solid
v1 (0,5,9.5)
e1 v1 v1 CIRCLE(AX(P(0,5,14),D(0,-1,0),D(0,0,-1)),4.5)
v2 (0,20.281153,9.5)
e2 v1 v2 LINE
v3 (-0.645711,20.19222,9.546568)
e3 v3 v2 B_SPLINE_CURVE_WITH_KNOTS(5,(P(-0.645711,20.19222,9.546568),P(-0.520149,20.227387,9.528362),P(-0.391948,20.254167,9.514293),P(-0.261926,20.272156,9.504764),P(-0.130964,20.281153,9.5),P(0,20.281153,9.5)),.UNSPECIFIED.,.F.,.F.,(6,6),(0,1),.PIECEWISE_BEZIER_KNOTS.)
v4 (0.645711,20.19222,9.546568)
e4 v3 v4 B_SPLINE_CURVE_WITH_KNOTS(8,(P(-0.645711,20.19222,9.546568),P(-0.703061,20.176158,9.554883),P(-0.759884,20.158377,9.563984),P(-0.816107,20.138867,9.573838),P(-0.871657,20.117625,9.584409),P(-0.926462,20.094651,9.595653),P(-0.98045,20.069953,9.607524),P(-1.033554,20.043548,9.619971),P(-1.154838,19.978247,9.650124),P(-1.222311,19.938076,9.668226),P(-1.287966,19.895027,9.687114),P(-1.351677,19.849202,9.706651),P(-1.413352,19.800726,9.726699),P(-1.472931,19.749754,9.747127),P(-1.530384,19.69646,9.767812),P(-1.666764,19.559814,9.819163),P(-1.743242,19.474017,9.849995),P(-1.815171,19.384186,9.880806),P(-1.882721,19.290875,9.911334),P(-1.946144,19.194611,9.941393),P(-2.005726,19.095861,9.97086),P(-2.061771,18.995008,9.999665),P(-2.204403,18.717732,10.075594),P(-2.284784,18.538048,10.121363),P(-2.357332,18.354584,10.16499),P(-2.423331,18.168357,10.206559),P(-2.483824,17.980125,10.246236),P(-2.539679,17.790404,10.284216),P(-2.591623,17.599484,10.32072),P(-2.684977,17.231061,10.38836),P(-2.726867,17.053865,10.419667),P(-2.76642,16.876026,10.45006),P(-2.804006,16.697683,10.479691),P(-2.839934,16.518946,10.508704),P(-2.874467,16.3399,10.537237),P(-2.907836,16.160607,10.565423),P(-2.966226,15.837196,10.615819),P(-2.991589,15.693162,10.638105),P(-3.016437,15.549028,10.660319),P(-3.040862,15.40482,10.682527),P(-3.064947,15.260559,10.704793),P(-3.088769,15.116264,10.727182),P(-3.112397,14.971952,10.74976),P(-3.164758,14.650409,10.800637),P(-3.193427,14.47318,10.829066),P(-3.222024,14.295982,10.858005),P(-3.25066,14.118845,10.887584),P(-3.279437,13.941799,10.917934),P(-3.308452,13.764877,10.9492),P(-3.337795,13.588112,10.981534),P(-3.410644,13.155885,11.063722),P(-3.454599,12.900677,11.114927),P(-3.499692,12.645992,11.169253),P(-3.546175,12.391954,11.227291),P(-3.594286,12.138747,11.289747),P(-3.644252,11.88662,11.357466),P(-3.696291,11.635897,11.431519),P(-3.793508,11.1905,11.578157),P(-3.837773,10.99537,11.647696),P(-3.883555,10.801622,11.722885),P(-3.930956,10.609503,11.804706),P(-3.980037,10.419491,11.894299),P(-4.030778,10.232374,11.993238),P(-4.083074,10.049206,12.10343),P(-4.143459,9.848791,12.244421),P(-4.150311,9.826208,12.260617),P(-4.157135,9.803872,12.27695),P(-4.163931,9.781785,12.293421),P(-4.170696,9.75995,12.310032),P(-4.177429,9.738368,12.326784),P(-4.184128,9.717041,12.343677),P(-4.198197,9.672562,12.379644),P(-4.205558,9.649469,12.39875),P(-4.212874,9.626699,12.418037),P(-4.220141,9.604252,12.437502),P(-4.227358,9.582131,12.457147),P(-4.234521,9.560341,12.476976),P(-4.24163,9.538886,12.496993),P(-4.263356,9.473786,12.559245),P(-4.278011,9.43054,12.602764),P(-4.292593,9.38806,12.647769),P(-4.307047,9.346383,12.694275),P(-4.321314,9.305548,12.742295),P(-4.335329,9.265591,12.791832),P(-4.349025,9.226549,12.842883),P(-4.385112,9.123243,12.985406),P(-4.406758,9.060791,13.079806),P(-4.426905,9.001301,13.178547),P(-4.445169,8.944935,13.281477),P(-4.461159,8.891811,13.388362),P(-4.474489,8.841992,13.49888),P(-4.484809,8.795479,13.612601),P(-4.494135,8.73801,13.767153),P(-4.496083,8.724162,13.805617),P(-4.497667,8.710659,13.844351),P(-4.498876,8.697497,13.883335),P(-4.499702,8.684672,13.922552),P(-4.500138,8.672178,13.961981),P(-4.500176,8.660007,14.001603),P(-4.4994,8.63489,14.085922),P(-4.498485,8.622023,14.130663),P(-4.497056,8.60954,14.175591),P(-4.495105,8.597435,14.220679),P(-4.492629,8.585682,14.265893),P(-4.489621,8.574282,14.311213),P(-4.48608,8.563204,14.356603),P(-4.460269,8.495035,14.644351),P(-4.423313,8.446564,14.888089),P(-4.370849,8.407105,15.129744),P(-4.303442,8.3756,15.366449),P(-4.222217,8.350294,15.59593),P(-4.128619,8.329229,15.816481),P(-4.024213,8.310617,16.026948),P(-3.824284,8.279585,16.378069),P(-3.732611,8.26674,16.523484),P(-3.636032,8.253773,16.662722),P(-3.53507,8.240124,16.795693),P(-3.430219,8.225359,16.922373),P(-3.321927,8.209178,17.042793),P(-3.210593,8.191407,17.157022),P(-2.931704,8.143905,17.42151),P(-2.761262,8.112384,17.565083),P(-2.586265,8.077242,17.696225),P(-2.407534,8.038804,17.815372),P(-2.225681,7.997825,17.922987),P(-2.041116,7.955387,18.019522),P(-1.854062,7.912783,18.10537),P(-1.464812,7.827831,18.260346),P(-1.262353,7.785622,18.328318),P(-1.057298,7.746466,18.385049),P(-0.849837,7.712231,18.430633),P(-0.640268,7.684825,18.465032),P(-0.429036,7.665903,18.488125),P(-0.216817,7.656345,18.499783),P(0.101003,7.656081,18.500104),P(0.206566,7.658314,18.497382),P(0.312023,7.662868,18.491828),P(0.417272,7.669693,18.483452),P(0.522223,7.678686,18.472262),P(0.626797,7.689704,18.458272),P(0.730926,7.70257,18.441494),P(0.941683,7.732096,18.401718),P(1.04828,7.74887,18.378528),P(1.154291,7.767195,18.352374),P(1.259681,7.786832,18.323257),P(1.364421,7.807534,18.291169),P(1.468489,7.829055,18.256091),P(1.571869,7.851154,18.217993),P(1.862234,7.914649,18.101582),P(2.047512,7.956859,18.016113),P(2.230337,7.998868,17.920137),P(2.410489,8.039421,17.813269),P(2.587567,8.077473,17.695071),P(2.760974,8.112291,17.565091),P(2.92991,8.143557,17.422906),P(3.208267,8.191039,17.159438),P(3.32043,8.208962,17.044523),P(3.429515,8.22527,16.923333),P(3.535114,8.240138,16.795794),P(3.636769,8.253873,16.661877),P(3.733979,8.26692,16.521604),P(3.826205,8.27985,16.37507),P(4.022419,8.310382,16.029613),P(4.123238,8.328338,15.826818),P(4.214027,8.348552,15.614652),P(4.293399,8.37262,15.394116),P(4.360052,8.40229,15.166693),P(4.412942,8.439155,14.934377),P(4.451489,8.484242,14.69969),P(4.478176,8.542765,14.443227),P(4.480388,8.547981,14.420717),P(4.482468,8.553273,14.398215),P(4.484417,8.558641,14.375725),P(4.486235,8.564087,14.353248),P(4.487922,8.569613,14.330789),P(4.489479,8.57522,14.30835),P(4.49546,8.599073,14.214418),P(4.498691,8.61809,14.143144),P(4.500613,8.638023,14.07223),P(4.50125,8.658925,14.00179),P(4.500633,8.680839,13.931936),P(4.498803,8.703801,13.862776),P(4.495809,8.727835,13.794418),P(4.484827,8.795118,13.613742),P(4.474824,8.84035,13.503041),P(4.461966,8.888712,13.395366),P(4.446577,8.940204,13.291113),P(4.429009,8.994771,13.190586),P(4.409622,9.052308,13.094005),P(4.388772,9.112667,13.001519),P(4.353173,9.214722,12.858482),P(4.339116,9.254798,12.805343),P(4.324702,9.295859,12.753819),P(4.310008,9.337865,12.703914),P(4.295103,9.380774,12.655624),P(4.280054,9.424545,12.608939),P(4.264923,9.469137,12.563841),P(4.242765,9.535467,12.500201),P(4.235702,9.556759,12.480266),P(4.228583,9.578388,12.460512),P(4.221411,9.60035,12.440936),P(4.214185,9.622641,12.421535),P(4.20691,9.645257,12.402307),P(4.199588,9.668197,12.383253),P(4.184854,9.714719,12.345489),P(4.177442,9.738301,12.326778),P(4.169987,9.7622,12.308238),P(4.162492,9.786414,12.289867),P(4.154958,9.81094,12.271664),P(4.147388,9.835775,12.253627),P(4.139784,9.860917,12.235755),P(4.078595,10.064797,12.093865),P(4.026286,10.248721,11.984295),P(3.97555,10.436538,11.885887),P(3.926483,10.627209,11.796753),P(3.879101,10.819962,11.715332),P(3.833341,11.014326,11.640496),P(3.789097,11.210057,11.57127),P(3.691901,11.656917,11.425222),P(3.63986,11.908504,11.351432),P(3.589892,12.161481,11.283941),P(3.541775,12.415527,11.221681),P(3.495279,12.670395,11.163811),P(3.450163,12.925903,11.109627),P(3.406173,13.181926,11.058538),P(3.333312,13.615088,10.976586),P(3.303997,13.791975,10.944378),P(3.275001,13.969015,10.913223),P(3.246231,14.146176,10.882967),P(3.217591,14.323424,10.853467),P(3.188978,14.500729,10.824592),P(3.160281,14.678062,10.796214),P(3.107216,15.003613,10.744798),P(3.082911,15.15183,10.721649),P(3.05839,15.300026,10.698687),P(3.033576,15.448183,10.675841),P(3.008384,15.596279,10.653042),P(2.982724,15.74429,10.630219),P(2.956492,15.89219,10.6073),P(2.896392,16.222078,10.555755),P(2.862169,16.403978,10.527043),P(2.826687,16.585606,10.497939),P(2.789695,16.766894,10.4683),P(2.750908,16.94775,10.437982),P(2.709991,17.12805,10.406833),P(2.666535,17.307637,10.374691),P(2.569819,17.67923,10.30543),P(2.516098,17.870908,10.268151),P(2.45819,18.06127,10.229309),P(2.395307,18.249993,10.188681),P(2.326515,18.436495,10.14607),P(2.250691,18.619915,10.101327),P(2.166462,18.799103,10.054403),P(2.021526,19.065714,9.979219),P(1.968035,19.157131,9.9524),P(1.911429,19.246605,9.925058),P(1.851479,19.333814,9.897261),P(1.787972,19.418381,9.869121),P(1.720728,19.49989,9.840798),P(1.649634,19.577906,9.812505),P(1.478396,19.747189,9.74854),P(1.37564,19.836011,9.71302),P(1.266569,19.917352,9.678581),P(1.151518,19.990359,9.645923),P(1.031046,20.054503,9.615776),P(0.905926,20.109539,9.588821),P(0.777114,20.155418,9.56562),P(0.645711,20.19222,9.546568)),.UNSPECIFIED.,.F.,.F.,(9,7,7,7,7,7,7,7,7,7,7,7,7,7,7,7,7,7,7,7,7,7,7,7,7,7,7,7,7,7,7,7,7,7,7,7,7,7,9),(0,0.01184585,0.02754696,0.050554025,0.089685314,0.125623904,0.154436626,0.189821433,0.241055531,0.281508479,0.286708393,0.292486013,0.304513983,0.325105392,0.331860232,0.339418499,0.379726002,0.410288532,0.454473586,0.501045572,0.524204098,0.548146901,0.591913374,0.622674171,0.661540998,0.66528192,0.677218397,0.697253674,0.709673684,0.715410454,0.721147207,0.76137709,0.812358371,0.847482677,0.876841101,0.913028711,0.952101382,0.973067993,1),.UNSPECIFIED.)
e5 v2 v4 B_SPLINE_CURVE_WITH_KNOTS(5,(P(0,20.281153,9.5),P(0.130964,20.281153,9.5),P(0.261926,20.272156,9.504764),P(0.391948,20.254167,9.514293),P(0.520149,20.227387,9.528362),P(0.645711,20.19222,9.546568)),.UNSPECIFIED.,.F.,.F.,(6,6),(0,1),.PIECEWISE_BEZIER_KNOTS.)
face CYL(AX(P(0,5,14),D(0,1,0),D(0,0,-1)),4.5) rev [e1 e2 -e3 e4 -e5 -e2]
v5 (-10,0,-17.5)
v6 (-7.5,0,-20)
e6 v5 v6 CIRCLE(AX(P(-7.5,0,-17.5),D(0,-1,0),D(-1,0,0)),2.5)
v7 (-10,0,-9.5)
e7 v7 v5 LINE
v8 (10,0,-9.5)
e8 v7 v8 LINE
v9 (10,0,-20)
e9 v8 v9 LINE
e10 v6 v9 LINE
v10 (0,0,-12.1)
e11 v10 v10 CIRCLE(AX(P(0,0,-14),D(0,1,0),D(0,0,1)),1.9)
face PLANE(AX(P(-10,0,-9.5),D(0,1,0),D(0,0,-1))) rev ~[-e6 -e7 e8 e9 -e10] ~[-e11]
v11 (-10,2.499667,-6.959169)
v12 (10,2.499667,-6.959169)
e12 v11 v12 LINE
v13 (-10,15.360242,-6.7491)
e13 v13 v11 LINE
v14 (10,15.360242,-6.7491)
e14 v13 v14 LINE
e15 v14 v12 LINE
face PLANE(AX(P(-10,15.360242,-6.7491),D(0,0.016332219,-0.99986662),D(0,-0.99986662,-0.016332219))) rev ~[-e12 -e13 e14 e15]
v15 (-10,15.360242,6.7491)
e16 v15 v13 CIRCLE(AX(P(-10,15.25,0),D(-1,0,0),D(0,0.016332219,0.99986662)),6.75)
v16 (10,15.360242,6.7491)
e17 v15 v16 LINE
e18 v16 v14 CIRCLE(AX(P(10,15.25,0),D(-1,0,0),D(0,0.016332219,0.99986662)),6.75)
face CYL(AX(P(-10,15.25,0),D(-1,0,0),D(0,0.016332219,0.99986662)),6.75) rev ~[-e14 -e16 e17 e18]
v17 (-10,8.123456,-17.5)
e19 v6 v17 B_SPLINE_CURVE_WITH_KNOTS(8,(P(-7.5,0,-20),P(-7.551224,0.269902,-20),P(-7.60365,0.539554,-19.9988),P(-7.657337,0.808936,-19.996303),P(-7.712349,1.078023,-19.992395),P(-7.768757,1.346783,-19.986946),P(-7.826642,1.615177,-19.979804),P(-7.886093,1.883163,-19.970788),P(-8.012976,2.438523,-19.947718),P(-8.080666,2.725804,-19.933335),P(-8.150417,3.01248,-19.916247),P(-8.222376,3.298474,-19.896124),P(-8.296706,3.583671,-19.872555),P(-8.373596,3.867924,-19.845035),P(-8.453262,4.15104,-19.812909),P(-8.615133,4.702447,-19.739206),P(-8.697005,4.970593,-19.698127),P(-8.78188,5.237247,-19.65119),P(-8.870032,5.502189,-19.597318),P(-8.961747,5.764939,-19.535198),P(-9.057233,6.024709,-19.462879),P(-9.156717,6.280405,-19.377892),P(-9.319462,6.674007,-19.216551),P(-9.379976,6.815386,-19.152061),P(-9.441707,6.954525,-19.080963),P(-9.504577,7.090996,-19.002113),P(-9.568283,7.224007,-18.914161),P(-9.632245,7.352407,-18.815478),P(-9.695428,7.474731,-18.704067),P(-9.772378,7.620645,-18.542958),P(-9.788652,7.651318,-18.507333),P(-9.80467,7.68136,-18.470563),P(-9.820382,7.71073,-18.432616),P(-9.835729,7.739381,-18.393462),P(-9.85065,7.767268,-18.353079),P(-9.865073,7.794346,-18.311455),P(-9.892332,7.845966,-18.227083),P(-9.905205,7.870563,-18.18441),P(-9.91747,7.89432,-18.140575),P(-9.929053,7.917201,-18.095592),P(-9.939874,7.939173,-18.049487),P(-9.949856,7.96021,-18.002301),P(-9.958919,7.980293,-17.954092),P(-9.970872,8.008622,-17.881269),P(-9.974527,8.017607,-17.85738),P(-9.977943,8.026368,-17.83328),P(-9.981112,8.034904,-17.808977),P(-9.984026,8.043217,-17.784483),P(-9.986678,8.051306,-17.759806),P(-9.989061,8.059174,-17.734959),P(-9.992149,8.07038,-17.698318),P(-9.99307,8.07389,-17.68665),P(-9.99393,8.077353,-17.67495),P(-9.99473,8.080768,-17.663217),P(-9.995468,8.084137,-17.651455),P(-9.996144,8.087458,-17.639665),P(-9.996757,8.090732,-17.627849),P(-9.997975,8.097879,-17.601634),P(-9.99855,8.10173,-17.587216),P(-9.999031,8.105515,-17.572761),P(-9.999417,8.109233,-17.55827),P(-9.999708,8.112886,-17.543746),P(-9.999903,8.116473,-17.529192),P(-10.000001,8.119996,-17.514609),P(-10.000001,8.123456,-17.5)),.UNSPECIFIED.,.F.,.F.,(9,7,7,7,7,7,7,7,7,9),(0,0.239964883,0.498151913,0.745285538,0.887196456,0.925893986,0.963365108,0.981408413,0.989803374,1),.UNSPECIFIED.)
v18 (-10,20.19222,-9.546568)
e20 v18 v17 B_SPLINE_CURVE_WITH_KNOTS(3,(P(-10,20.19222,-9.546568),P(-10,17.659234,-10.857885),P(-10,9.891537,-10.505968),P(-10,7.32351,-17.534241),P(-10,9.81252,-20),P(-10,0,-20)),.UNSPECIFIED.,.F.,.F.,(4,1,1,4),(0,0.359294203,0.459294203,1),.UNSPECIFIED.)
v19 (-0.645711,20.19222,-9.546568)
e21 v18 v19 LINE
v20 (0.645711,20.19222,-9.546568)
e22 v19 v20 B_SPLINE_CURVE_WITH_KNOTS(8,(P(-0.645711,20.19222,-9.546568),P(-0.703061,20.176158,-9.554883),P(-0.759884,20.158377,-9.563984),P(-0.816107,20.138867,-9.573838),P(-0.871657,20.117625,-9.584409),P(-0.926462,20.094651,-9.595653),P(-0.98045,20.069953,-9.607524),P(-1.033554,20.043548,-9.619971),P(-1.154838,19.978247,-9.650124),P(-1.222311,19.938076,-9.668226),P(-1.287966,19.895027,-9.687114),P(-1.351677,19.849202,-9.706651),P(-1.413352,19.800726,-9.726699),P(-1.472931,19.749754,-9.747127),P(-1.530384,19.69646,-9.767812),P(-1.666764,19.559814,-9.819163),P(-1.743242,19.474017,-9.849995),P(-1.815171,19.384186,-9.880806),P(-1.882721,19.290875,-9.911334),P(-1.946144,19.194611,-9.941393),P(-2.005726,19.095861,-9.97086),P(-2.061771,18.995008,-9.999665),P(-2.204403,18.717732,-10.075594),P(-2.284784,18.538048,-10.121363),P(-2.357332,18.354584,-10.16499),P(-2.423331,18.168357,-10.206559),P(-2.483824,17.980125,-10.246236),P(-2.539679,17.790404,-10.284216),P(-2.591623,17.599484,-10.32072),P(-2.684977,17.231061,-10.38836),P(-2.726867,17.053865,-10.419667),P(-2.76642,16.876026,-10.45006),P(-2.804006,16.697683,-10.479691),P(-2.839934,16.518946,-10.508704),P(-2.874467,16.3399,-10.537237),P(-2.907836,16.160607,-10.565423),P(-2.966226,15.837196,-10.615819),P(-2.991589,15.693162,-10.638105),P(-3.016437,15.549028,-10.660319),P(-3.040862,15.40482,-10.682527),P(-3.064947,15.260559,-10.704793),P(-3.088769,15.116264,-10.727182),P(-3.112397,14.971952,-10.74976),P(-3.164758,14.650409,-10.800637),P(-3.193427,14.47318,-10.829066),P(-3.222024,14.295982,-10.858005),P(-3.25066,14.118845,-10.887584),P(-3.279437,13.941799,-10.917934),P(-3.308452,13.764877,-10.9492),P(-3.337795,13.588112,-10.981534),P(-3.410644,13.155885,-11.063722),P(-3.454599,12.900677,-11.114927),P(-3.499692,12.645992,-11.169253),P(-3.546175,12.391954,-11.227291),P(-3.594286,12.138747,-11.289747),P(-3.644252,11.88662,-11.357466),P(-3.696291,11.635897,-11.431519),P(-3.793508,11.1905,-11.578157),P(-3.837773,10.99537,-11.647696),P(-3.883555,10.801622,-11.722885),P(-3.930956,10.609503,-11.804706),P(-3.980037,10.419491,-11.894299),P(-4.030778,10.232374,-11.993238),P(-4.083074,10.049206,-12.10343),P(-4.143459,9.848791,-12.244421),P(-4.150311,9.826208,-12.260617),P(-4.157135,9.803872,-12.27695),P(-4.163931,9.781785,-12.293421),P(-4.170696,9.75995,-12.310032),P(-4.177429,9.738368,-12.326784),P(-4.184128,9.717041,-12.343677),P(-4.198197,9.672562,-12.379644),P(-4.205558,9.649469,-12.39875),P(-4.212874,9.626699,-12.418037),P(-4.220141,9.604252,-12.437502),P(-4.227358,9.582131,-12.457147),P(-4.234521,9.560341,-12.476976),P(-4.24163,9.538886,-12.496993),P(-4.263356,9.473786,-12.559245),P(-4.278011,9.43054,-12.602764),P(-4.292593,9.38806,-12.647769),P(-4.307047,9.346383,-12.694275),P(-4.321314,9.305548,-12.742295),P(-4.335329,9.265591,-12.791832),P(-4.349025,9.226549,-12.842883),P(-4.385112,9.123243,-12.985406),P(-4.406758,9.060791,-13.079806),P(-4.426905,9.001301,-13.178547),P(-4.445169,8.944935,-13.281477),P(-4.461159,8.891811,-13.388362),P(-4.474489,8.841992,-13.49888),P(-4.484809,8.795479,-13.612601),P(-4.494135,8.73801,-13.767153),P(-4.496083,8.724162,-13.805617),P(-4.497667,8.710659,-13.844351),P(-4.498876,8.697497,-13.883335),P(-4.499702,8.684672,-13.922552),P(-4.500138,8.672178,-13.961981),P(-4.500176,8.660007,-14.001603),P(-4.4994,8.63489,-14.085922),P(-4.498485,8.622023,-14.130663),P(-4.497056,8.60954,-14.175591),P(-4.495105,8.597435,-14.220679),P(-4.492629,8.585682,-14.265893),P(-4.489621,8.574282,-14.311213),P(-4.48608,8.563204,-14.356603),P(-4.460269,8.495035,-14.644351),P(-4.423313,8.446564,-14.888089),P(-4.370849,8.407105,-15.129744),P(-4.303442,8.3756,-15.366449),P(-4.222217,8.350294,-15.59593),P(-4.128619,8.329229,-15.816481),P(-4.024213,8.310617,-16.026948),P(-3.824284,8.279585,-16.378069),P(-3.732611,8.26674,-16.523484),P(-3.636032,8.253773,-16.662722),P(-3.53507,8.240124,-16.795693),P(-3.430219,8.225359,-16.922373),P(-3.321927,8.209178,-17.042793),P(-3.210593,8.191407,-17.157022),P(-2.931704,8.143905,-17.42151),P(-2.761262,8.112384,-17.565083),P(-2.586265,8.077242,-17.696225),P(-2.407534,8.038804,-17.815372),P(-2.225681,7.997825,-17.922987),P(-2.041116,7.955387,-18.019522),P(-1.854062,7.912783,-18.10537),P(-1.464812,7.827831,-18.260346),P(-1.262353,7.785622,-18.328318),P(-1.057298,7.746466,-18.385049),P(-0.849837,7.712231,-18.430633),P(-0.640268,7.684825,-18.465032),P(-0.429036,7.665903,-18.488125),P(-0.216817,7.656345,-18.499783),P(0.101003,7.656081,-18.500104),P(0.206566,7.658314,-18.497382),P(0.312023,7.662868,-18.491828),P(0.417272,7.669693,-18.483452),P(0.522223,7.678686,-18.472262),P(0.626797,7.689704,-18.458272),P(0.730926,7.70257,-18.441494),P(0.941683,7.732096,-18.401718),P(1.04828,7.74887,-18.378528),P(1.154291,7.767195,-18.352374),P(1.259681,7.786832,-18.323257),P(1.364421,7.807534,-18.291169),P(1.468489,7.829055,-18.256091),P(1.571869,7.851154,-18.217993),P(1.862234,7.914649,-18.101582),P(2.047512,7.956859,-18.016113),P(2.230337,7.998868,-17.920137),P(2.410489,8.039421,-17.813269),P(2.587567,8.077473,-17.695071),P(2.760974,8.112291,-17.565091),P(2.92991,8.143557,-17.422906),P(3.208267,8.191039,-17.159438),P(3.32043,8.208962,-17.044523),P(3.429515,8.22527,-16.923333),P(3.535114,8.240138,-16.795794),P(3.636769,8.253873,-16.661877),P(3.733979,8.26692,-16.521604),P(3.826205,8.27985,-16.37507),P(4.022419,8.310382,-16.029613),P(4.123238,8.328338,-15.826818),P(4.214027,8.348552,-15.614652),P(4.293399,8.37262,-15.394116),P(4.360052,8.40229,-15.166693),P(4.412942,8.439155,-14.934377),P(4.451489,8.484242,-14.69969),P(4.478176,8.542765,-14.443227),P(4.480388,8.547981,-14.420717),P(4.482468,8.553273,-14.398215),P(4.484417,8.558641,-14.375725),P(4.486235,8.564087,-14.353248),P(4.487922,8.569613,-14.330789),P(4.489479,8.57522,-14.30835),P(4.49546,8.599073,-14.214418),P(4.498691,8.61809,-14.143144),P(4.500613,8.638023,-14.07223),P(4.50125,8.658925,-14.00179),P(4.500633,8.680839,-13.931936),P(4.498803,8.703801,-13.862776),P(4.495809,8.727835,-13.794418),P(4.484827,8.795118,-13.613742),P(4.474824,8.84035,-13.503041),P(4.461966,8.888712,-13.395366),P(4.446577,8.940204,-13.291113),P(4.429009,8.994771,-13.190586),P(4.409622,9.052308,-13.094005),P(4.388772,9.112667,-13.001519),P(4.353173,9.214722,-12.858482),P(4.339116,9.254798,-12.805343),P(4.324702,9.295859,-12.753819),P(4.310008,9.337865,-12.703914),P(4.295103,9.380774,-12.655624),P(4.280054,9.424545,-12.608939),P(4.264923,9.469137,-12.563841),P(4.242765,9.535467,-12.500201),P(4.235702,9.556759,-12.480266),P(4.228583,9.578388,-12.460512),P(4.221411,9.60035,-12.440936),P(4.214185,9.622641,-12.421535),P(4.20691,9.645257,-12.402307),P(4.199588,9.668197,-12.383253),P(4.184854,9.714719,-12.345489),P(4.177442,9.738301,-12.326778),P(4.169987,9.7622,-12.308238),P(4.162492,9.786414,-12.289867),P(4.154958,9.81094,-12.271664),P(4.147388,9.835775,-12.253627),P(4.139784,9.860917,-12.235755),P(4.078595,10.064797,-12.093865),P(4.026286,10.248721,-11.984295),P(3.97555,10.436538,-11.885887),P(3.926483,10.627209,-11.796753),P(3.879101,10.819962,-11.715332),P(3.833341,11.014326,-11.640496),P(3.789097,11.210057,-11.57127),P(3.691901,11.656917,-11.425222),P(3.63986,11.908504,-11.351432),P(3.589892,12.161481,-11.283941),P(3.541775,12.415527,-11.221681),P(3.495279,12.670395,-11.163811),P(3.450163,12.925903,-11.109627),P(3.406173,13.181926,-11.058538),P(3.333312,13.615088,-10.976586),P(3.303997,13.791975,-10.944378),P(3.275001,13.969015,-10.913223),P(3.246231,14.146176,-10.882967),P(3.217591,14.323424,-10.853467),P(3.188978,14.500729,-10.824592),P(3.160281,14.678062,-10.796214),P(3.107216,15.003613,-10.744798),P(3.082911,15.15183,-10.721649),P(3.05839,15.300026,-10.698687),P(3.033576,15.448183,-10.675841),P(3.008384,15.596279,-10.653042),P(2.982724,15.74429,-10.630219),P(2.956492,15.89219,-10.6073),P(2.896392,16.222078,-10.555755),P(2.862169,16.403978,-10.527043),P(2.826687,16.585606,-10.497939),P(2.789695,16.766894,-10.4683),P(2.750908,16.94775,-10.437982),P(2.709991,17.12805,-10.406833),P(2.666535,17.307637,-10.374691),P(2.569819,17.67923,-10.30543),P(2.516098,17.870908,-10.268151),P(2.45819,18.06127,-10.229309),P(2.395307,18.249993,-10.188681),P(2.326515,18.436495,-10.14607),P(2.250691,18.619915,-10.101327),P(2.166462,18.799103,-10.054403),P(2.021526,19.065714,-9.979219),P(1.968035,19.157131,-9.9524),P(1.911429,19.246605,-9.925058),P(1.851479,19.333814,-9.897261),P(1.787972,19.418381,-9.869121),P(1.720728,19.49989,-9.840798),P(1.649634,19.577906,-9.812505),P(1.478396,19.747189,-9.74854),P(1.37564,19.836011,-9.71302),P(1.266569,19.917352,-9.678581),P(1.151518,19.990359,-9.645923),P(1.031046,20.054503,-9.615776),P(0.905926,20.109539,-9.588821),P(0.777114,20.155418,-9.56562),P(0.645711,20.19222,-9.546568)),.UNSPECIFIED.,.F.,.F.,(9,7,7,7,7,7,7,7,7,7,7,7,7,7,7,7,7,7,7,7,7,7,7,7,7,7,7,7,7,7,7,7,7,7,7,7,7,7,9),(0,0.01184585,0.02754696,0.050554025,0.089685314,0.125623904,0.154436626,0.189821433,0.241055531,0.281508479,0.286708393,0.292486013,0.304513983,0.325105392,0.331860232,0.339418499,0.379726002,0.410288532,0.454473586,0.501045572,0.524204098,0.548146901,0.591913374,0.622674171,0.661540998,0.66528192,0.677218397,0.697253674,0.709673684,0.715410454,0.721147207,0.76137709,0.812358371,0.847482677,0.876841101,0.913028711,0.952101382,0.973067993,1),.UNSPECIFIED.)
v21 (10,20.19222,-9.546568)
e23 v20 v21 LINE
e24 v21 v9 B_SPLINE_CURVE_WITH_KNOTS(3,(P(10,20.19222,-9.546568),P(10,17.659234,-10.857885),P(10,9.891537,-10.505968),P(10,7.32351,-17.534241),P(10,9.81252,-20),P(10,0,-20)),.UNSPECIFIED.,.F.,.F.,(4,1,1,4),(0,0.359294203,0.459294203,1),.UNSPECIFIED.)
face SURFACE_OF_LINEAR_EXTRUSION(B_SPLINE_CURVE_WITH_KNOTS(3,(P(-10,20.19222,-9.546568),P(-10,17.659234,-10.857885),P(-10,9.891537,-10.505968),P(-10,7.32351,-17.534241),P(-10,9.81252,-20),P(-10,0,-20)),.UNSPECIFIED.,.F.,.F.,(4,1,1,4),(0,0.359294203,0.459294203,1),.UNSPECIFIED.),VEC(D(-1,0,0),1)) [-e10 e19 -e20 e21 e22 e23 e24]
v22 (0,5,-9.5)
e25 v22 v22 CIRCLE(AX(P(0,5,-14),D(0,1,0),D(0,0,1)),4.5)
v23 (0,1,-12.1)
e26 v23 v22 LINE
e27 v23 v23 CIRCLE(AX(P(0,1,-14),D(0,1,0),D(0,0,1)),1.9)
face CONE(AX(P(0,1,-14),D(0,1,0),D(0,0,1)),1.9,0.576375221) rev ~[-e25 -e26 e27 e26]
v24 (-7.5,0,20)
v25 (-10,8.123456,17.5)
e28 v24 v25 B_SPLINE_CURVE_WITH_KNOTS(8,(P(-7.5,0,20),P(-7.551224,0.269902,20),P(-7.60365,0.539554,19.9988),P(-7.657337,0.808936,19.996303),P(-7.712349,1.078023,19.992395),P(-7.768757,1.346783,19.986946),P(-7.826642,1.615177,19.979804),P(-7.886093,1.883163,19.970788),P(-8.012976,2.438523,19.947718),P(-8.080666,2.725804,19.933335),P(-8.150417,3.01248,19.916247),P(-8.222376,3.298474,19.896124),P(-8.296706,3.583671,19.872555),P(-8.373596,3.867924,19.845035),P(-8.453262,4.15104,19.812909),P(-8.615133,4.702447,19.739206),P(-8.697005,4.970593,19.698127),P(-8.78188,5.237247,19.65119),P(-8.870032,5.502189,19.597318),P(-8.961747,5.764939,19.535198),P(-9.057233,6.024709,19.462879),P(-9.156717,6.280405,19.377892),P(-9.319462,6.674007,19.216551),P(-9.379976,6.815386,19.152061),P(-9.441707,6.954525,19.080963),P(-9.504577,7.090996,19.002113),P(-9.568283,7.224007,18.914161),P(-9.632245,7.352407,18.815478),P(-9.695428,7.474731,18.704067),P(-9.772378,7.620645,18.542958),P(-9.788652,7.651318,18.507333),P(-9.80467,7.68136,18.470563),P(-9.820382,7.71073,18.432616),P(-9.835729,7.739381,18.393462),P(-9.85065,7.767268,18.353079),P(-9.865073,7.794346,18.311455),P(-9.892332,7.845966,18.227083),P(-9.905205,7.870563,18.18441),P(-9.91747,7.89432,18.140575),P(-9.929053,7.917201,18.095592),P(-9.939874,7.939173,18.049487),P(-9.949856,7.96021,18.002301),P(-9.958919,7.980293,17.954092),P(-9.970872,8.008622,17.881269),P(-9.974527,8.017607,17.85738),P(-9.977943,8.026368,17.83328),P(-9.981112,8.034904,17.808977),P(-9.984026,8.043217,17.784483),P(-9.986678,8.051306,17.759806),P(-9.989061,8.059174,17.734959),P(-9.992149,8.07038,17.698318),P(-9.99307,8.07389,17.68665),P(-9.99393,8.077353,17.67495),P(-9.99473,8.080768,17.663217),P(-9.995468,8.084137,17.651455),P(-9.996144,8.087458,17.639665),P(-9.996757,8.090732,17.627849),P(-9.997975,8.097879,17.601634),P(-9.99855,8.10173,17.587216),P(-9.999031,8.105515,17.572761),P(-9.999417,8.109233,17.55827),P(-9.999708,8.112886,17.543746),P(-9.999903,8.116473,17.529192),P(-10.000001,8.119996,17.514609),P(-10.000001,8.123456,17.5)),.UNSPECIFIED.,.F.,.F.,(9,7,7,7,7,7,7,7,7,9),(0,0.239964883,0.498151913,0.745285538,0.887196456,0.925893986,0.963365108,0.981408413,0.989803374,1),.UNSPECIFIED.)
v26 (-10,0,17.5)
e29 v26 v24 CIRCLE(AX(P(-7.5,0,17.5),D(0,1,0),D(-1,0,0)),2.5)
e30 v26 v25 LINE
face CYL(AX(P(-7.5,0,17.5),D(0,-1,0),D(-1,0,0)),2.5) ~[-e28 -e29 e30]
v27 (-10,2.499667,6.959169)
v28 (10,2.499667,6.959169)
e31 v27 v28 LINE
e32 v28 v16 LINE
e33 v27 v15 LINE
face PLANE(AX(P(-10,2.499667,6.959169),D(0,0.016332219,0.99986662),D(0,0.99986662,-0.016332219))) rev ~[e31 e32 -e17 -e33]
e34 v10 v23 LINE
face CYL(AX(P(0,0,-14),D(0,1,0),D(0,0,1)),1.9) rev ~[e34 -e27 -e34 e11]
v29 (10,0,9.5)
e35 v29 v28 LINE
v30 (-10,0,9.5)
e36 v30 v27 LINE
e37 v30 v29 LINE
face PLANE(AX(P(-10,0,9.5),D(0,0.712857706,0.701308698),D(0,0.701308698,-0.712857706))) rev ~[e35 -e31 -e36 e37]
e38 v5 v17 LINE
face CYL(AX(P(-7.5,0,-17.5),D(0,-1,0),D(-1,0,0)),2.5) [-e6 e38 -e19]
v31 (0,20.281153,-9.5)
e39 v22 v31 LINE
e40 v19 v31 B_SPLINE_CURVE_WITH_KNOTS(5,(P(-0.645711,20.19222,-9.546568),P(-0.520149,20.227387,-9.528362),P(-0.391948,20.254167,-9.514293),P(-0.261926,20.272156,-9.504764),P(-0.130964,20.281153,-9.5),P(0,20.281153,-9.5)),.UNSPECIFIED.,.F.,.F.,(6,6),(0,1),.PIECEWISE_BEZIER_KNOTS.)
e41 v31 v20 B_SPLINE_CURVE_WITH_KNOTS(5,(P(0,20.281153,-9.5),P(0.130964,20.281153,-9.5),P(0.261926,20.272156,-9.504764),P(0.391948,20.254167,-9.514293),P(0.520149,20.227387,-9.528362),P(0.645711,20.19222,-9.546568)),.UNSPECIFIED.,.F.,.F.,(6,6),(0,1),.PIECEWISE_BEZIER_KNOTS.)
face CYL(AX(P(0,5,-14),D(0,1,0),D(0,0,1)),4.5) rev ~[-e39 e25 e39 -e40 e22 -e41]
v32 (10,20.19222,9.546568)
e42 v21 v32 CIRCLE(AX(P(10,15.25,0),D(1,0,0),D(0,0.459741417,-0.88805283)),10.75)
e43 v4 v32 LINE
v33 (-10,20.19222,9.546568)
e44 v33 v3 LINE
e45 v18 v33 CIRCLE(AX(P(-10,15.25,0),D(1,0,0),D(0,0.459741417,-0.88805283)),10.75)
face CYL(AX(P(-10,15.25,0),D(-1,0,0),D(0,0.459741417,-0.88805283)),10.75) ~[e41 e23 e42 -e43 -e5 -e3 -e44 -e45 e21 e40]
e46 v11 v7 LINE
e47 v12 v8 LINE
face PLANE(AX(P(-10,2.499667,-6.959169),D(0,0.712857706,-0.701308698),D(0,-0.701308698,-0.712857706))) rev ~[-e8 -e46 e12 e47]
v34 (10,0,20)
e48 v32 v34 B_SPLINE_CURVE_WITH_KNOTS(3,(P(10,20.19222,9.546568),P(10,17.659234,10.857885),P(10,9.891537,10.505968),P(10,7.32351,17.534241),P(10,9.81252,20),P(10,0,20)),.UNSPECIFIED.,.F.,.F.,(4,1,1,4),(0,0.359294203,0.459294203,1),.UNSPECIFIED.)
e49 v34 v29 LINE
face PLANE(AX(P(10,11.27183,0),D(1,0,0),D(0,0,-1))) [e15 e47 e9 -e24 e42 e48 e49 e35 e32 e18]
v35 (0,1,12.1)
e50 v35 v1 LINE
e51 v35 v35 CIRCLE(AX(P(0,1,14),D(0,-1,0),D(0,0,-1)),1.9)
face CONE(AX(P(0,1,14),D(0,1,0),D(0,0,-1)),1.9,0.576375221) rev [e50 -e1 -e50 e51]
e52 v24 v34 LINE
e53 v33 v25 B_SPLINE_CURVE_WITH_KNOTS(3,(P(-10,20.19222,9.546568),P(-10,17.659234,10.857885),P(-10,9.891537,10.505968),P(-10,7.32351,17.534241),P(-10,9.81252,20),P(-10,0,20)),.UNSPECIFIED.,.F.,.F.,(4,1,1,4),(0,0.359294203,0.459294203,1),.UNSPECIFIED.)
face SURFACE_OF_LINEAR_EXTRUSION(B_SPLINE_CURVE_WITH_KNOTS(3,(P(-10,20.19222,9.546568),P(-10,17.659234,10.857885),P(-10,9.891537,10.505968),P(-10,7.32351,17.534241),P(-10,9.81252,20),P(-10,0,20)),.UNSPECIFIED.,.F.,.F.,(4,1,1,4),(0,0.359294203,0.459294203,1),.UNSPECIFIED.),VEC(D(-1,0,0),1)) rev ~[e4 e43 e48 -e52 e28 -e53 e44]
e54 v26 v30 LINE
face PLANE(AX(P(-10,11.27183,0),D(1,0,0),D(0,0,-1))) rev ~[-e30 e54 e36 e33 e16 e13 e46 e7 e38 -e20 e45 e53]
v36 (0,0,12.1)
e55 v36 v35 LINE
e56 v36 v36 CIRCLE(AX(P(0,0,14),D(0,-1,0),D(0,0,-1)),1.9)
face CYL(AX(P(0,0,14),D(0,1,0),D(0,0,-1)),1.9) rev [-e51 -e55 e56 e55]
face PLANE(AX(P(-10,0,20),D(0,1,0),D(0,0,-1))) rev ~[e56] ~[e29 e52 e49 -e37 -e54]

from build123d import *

# Parameters (mm, degrees)
BOSS_EXTRUDE1_DEPTH      = 10
BOSS_EXTRUDE1_DEPTH_BACK = 10
CUT_EXTRUDE1_DEPTH       = 35.292856562


with BuildPart() as part:
    # Sketch1 → Boss-Extrude1 (new, two sides: drawn at the far end of the back side and taken through both)
    with BuildSketch(Plane(origin=(0, 0, 0), x_dir=(0, 0, -1), z_dir=(1, 0, 0)).offset(-BOSS_EXTRUDE1_DEPTH_BACK)):
        with BuildLine():
            Line((-20, 0), (-9.5, 0))
            Line((-9.5, 0), (-6.959169452, 2.499666551))
            Line((-6.959169452, 2.499666551), (-6.749099688, 15.36024248))
            ThreePointArc((-6.749099688, 15.36024248), (0, 22), (6.749099688, 15.36024248))
            Line((6.749099688, 15.36024248), (6.959169452, 2.499666551))
            Line((6.959169452, 2.499666551), (9.5, 0))
            Line((9.5, 0), (20, 0))
            add(Edge.make_bspline(
                [(9.546567927, 20.192220232), (10.857885065, 17.659233529), (10.505968038, 9.891536863), (17.534240818, 7.323509593), (20, 9.812519834), (20, 0)],
                knots=[0, 0, 0, 0, 0.359294203, 0.459294203, 1, 1, 1, 1], degree=3))
            ThreePointArc((9.546567927, 20.192220232), (0, 26), (-9.546567927, 20.192220232))
            add(Edge.make_bspline(
                [(-9.546567927, 20.192220232), (-10.857885065, 17.659233529), (-10.505968038, 9.891536863), (-17.534240818, 7.323509593), (-20, 9.812519834), (-20, 0)],
                knots=[0, 0, 0, 0, 0.359294203, 0.459294203, 1, 1, 1, 1], degree=3))
        make_face()
    extrude(amount=BOSS_EXTRUDE1_DEPTH + BOSS_EXTRUDE1_DEPTH_BACK)

    # Sketch4 → Cut-Revolve1 (revolve, cut)
    with BuildSketch(Plane(origin=(0, 0, 0), x_dir=(0, 0, -1), z_dir=(1, 0, 0))):
        Polygon((-12.1, 1), (-9.5, 5), (-9.5, 20.281152949), (-14, 20.281152949), (-14, 0), (-12.1, 0), align=None)
    cut_revolve1 = revolve(axis=Axis((0, 20.281152949, 14), (0, -1, 0)), mode=Mode.SUBTRACT)

    # Mirror1: Cut-Revolve1 across plane
    add(cut_revolve1.mirror(Plane.XY), mode=Mode.SUBTRACT)

    # Sketch5 → Cut-Extrude1 (cut, through all)
    with BuildSketch(Plane.XZ):
        with BuildLine():
            Line((-7.5, 20), (-10, 20))
            Line((-10, 20), (-10, 17.5))
            ThreePointArc((-10, 17.5), (-9.267766953, 19.267766953), (-7.5, 20))
        make_face()
        with BuildLine():
            Line((-10, -20), (-10, -17.5))
            ThreePointArc((-10, -17.5), (-9.267766953, -19.267766953), (-7.5, -20))
            Line((-7.5, -20), (-10, -20))
        make_face()
    extrude(amount=-CUT_EXTRUDE1_DEPTH, mode=Mode.SUBTRACT)


solid = part.part
